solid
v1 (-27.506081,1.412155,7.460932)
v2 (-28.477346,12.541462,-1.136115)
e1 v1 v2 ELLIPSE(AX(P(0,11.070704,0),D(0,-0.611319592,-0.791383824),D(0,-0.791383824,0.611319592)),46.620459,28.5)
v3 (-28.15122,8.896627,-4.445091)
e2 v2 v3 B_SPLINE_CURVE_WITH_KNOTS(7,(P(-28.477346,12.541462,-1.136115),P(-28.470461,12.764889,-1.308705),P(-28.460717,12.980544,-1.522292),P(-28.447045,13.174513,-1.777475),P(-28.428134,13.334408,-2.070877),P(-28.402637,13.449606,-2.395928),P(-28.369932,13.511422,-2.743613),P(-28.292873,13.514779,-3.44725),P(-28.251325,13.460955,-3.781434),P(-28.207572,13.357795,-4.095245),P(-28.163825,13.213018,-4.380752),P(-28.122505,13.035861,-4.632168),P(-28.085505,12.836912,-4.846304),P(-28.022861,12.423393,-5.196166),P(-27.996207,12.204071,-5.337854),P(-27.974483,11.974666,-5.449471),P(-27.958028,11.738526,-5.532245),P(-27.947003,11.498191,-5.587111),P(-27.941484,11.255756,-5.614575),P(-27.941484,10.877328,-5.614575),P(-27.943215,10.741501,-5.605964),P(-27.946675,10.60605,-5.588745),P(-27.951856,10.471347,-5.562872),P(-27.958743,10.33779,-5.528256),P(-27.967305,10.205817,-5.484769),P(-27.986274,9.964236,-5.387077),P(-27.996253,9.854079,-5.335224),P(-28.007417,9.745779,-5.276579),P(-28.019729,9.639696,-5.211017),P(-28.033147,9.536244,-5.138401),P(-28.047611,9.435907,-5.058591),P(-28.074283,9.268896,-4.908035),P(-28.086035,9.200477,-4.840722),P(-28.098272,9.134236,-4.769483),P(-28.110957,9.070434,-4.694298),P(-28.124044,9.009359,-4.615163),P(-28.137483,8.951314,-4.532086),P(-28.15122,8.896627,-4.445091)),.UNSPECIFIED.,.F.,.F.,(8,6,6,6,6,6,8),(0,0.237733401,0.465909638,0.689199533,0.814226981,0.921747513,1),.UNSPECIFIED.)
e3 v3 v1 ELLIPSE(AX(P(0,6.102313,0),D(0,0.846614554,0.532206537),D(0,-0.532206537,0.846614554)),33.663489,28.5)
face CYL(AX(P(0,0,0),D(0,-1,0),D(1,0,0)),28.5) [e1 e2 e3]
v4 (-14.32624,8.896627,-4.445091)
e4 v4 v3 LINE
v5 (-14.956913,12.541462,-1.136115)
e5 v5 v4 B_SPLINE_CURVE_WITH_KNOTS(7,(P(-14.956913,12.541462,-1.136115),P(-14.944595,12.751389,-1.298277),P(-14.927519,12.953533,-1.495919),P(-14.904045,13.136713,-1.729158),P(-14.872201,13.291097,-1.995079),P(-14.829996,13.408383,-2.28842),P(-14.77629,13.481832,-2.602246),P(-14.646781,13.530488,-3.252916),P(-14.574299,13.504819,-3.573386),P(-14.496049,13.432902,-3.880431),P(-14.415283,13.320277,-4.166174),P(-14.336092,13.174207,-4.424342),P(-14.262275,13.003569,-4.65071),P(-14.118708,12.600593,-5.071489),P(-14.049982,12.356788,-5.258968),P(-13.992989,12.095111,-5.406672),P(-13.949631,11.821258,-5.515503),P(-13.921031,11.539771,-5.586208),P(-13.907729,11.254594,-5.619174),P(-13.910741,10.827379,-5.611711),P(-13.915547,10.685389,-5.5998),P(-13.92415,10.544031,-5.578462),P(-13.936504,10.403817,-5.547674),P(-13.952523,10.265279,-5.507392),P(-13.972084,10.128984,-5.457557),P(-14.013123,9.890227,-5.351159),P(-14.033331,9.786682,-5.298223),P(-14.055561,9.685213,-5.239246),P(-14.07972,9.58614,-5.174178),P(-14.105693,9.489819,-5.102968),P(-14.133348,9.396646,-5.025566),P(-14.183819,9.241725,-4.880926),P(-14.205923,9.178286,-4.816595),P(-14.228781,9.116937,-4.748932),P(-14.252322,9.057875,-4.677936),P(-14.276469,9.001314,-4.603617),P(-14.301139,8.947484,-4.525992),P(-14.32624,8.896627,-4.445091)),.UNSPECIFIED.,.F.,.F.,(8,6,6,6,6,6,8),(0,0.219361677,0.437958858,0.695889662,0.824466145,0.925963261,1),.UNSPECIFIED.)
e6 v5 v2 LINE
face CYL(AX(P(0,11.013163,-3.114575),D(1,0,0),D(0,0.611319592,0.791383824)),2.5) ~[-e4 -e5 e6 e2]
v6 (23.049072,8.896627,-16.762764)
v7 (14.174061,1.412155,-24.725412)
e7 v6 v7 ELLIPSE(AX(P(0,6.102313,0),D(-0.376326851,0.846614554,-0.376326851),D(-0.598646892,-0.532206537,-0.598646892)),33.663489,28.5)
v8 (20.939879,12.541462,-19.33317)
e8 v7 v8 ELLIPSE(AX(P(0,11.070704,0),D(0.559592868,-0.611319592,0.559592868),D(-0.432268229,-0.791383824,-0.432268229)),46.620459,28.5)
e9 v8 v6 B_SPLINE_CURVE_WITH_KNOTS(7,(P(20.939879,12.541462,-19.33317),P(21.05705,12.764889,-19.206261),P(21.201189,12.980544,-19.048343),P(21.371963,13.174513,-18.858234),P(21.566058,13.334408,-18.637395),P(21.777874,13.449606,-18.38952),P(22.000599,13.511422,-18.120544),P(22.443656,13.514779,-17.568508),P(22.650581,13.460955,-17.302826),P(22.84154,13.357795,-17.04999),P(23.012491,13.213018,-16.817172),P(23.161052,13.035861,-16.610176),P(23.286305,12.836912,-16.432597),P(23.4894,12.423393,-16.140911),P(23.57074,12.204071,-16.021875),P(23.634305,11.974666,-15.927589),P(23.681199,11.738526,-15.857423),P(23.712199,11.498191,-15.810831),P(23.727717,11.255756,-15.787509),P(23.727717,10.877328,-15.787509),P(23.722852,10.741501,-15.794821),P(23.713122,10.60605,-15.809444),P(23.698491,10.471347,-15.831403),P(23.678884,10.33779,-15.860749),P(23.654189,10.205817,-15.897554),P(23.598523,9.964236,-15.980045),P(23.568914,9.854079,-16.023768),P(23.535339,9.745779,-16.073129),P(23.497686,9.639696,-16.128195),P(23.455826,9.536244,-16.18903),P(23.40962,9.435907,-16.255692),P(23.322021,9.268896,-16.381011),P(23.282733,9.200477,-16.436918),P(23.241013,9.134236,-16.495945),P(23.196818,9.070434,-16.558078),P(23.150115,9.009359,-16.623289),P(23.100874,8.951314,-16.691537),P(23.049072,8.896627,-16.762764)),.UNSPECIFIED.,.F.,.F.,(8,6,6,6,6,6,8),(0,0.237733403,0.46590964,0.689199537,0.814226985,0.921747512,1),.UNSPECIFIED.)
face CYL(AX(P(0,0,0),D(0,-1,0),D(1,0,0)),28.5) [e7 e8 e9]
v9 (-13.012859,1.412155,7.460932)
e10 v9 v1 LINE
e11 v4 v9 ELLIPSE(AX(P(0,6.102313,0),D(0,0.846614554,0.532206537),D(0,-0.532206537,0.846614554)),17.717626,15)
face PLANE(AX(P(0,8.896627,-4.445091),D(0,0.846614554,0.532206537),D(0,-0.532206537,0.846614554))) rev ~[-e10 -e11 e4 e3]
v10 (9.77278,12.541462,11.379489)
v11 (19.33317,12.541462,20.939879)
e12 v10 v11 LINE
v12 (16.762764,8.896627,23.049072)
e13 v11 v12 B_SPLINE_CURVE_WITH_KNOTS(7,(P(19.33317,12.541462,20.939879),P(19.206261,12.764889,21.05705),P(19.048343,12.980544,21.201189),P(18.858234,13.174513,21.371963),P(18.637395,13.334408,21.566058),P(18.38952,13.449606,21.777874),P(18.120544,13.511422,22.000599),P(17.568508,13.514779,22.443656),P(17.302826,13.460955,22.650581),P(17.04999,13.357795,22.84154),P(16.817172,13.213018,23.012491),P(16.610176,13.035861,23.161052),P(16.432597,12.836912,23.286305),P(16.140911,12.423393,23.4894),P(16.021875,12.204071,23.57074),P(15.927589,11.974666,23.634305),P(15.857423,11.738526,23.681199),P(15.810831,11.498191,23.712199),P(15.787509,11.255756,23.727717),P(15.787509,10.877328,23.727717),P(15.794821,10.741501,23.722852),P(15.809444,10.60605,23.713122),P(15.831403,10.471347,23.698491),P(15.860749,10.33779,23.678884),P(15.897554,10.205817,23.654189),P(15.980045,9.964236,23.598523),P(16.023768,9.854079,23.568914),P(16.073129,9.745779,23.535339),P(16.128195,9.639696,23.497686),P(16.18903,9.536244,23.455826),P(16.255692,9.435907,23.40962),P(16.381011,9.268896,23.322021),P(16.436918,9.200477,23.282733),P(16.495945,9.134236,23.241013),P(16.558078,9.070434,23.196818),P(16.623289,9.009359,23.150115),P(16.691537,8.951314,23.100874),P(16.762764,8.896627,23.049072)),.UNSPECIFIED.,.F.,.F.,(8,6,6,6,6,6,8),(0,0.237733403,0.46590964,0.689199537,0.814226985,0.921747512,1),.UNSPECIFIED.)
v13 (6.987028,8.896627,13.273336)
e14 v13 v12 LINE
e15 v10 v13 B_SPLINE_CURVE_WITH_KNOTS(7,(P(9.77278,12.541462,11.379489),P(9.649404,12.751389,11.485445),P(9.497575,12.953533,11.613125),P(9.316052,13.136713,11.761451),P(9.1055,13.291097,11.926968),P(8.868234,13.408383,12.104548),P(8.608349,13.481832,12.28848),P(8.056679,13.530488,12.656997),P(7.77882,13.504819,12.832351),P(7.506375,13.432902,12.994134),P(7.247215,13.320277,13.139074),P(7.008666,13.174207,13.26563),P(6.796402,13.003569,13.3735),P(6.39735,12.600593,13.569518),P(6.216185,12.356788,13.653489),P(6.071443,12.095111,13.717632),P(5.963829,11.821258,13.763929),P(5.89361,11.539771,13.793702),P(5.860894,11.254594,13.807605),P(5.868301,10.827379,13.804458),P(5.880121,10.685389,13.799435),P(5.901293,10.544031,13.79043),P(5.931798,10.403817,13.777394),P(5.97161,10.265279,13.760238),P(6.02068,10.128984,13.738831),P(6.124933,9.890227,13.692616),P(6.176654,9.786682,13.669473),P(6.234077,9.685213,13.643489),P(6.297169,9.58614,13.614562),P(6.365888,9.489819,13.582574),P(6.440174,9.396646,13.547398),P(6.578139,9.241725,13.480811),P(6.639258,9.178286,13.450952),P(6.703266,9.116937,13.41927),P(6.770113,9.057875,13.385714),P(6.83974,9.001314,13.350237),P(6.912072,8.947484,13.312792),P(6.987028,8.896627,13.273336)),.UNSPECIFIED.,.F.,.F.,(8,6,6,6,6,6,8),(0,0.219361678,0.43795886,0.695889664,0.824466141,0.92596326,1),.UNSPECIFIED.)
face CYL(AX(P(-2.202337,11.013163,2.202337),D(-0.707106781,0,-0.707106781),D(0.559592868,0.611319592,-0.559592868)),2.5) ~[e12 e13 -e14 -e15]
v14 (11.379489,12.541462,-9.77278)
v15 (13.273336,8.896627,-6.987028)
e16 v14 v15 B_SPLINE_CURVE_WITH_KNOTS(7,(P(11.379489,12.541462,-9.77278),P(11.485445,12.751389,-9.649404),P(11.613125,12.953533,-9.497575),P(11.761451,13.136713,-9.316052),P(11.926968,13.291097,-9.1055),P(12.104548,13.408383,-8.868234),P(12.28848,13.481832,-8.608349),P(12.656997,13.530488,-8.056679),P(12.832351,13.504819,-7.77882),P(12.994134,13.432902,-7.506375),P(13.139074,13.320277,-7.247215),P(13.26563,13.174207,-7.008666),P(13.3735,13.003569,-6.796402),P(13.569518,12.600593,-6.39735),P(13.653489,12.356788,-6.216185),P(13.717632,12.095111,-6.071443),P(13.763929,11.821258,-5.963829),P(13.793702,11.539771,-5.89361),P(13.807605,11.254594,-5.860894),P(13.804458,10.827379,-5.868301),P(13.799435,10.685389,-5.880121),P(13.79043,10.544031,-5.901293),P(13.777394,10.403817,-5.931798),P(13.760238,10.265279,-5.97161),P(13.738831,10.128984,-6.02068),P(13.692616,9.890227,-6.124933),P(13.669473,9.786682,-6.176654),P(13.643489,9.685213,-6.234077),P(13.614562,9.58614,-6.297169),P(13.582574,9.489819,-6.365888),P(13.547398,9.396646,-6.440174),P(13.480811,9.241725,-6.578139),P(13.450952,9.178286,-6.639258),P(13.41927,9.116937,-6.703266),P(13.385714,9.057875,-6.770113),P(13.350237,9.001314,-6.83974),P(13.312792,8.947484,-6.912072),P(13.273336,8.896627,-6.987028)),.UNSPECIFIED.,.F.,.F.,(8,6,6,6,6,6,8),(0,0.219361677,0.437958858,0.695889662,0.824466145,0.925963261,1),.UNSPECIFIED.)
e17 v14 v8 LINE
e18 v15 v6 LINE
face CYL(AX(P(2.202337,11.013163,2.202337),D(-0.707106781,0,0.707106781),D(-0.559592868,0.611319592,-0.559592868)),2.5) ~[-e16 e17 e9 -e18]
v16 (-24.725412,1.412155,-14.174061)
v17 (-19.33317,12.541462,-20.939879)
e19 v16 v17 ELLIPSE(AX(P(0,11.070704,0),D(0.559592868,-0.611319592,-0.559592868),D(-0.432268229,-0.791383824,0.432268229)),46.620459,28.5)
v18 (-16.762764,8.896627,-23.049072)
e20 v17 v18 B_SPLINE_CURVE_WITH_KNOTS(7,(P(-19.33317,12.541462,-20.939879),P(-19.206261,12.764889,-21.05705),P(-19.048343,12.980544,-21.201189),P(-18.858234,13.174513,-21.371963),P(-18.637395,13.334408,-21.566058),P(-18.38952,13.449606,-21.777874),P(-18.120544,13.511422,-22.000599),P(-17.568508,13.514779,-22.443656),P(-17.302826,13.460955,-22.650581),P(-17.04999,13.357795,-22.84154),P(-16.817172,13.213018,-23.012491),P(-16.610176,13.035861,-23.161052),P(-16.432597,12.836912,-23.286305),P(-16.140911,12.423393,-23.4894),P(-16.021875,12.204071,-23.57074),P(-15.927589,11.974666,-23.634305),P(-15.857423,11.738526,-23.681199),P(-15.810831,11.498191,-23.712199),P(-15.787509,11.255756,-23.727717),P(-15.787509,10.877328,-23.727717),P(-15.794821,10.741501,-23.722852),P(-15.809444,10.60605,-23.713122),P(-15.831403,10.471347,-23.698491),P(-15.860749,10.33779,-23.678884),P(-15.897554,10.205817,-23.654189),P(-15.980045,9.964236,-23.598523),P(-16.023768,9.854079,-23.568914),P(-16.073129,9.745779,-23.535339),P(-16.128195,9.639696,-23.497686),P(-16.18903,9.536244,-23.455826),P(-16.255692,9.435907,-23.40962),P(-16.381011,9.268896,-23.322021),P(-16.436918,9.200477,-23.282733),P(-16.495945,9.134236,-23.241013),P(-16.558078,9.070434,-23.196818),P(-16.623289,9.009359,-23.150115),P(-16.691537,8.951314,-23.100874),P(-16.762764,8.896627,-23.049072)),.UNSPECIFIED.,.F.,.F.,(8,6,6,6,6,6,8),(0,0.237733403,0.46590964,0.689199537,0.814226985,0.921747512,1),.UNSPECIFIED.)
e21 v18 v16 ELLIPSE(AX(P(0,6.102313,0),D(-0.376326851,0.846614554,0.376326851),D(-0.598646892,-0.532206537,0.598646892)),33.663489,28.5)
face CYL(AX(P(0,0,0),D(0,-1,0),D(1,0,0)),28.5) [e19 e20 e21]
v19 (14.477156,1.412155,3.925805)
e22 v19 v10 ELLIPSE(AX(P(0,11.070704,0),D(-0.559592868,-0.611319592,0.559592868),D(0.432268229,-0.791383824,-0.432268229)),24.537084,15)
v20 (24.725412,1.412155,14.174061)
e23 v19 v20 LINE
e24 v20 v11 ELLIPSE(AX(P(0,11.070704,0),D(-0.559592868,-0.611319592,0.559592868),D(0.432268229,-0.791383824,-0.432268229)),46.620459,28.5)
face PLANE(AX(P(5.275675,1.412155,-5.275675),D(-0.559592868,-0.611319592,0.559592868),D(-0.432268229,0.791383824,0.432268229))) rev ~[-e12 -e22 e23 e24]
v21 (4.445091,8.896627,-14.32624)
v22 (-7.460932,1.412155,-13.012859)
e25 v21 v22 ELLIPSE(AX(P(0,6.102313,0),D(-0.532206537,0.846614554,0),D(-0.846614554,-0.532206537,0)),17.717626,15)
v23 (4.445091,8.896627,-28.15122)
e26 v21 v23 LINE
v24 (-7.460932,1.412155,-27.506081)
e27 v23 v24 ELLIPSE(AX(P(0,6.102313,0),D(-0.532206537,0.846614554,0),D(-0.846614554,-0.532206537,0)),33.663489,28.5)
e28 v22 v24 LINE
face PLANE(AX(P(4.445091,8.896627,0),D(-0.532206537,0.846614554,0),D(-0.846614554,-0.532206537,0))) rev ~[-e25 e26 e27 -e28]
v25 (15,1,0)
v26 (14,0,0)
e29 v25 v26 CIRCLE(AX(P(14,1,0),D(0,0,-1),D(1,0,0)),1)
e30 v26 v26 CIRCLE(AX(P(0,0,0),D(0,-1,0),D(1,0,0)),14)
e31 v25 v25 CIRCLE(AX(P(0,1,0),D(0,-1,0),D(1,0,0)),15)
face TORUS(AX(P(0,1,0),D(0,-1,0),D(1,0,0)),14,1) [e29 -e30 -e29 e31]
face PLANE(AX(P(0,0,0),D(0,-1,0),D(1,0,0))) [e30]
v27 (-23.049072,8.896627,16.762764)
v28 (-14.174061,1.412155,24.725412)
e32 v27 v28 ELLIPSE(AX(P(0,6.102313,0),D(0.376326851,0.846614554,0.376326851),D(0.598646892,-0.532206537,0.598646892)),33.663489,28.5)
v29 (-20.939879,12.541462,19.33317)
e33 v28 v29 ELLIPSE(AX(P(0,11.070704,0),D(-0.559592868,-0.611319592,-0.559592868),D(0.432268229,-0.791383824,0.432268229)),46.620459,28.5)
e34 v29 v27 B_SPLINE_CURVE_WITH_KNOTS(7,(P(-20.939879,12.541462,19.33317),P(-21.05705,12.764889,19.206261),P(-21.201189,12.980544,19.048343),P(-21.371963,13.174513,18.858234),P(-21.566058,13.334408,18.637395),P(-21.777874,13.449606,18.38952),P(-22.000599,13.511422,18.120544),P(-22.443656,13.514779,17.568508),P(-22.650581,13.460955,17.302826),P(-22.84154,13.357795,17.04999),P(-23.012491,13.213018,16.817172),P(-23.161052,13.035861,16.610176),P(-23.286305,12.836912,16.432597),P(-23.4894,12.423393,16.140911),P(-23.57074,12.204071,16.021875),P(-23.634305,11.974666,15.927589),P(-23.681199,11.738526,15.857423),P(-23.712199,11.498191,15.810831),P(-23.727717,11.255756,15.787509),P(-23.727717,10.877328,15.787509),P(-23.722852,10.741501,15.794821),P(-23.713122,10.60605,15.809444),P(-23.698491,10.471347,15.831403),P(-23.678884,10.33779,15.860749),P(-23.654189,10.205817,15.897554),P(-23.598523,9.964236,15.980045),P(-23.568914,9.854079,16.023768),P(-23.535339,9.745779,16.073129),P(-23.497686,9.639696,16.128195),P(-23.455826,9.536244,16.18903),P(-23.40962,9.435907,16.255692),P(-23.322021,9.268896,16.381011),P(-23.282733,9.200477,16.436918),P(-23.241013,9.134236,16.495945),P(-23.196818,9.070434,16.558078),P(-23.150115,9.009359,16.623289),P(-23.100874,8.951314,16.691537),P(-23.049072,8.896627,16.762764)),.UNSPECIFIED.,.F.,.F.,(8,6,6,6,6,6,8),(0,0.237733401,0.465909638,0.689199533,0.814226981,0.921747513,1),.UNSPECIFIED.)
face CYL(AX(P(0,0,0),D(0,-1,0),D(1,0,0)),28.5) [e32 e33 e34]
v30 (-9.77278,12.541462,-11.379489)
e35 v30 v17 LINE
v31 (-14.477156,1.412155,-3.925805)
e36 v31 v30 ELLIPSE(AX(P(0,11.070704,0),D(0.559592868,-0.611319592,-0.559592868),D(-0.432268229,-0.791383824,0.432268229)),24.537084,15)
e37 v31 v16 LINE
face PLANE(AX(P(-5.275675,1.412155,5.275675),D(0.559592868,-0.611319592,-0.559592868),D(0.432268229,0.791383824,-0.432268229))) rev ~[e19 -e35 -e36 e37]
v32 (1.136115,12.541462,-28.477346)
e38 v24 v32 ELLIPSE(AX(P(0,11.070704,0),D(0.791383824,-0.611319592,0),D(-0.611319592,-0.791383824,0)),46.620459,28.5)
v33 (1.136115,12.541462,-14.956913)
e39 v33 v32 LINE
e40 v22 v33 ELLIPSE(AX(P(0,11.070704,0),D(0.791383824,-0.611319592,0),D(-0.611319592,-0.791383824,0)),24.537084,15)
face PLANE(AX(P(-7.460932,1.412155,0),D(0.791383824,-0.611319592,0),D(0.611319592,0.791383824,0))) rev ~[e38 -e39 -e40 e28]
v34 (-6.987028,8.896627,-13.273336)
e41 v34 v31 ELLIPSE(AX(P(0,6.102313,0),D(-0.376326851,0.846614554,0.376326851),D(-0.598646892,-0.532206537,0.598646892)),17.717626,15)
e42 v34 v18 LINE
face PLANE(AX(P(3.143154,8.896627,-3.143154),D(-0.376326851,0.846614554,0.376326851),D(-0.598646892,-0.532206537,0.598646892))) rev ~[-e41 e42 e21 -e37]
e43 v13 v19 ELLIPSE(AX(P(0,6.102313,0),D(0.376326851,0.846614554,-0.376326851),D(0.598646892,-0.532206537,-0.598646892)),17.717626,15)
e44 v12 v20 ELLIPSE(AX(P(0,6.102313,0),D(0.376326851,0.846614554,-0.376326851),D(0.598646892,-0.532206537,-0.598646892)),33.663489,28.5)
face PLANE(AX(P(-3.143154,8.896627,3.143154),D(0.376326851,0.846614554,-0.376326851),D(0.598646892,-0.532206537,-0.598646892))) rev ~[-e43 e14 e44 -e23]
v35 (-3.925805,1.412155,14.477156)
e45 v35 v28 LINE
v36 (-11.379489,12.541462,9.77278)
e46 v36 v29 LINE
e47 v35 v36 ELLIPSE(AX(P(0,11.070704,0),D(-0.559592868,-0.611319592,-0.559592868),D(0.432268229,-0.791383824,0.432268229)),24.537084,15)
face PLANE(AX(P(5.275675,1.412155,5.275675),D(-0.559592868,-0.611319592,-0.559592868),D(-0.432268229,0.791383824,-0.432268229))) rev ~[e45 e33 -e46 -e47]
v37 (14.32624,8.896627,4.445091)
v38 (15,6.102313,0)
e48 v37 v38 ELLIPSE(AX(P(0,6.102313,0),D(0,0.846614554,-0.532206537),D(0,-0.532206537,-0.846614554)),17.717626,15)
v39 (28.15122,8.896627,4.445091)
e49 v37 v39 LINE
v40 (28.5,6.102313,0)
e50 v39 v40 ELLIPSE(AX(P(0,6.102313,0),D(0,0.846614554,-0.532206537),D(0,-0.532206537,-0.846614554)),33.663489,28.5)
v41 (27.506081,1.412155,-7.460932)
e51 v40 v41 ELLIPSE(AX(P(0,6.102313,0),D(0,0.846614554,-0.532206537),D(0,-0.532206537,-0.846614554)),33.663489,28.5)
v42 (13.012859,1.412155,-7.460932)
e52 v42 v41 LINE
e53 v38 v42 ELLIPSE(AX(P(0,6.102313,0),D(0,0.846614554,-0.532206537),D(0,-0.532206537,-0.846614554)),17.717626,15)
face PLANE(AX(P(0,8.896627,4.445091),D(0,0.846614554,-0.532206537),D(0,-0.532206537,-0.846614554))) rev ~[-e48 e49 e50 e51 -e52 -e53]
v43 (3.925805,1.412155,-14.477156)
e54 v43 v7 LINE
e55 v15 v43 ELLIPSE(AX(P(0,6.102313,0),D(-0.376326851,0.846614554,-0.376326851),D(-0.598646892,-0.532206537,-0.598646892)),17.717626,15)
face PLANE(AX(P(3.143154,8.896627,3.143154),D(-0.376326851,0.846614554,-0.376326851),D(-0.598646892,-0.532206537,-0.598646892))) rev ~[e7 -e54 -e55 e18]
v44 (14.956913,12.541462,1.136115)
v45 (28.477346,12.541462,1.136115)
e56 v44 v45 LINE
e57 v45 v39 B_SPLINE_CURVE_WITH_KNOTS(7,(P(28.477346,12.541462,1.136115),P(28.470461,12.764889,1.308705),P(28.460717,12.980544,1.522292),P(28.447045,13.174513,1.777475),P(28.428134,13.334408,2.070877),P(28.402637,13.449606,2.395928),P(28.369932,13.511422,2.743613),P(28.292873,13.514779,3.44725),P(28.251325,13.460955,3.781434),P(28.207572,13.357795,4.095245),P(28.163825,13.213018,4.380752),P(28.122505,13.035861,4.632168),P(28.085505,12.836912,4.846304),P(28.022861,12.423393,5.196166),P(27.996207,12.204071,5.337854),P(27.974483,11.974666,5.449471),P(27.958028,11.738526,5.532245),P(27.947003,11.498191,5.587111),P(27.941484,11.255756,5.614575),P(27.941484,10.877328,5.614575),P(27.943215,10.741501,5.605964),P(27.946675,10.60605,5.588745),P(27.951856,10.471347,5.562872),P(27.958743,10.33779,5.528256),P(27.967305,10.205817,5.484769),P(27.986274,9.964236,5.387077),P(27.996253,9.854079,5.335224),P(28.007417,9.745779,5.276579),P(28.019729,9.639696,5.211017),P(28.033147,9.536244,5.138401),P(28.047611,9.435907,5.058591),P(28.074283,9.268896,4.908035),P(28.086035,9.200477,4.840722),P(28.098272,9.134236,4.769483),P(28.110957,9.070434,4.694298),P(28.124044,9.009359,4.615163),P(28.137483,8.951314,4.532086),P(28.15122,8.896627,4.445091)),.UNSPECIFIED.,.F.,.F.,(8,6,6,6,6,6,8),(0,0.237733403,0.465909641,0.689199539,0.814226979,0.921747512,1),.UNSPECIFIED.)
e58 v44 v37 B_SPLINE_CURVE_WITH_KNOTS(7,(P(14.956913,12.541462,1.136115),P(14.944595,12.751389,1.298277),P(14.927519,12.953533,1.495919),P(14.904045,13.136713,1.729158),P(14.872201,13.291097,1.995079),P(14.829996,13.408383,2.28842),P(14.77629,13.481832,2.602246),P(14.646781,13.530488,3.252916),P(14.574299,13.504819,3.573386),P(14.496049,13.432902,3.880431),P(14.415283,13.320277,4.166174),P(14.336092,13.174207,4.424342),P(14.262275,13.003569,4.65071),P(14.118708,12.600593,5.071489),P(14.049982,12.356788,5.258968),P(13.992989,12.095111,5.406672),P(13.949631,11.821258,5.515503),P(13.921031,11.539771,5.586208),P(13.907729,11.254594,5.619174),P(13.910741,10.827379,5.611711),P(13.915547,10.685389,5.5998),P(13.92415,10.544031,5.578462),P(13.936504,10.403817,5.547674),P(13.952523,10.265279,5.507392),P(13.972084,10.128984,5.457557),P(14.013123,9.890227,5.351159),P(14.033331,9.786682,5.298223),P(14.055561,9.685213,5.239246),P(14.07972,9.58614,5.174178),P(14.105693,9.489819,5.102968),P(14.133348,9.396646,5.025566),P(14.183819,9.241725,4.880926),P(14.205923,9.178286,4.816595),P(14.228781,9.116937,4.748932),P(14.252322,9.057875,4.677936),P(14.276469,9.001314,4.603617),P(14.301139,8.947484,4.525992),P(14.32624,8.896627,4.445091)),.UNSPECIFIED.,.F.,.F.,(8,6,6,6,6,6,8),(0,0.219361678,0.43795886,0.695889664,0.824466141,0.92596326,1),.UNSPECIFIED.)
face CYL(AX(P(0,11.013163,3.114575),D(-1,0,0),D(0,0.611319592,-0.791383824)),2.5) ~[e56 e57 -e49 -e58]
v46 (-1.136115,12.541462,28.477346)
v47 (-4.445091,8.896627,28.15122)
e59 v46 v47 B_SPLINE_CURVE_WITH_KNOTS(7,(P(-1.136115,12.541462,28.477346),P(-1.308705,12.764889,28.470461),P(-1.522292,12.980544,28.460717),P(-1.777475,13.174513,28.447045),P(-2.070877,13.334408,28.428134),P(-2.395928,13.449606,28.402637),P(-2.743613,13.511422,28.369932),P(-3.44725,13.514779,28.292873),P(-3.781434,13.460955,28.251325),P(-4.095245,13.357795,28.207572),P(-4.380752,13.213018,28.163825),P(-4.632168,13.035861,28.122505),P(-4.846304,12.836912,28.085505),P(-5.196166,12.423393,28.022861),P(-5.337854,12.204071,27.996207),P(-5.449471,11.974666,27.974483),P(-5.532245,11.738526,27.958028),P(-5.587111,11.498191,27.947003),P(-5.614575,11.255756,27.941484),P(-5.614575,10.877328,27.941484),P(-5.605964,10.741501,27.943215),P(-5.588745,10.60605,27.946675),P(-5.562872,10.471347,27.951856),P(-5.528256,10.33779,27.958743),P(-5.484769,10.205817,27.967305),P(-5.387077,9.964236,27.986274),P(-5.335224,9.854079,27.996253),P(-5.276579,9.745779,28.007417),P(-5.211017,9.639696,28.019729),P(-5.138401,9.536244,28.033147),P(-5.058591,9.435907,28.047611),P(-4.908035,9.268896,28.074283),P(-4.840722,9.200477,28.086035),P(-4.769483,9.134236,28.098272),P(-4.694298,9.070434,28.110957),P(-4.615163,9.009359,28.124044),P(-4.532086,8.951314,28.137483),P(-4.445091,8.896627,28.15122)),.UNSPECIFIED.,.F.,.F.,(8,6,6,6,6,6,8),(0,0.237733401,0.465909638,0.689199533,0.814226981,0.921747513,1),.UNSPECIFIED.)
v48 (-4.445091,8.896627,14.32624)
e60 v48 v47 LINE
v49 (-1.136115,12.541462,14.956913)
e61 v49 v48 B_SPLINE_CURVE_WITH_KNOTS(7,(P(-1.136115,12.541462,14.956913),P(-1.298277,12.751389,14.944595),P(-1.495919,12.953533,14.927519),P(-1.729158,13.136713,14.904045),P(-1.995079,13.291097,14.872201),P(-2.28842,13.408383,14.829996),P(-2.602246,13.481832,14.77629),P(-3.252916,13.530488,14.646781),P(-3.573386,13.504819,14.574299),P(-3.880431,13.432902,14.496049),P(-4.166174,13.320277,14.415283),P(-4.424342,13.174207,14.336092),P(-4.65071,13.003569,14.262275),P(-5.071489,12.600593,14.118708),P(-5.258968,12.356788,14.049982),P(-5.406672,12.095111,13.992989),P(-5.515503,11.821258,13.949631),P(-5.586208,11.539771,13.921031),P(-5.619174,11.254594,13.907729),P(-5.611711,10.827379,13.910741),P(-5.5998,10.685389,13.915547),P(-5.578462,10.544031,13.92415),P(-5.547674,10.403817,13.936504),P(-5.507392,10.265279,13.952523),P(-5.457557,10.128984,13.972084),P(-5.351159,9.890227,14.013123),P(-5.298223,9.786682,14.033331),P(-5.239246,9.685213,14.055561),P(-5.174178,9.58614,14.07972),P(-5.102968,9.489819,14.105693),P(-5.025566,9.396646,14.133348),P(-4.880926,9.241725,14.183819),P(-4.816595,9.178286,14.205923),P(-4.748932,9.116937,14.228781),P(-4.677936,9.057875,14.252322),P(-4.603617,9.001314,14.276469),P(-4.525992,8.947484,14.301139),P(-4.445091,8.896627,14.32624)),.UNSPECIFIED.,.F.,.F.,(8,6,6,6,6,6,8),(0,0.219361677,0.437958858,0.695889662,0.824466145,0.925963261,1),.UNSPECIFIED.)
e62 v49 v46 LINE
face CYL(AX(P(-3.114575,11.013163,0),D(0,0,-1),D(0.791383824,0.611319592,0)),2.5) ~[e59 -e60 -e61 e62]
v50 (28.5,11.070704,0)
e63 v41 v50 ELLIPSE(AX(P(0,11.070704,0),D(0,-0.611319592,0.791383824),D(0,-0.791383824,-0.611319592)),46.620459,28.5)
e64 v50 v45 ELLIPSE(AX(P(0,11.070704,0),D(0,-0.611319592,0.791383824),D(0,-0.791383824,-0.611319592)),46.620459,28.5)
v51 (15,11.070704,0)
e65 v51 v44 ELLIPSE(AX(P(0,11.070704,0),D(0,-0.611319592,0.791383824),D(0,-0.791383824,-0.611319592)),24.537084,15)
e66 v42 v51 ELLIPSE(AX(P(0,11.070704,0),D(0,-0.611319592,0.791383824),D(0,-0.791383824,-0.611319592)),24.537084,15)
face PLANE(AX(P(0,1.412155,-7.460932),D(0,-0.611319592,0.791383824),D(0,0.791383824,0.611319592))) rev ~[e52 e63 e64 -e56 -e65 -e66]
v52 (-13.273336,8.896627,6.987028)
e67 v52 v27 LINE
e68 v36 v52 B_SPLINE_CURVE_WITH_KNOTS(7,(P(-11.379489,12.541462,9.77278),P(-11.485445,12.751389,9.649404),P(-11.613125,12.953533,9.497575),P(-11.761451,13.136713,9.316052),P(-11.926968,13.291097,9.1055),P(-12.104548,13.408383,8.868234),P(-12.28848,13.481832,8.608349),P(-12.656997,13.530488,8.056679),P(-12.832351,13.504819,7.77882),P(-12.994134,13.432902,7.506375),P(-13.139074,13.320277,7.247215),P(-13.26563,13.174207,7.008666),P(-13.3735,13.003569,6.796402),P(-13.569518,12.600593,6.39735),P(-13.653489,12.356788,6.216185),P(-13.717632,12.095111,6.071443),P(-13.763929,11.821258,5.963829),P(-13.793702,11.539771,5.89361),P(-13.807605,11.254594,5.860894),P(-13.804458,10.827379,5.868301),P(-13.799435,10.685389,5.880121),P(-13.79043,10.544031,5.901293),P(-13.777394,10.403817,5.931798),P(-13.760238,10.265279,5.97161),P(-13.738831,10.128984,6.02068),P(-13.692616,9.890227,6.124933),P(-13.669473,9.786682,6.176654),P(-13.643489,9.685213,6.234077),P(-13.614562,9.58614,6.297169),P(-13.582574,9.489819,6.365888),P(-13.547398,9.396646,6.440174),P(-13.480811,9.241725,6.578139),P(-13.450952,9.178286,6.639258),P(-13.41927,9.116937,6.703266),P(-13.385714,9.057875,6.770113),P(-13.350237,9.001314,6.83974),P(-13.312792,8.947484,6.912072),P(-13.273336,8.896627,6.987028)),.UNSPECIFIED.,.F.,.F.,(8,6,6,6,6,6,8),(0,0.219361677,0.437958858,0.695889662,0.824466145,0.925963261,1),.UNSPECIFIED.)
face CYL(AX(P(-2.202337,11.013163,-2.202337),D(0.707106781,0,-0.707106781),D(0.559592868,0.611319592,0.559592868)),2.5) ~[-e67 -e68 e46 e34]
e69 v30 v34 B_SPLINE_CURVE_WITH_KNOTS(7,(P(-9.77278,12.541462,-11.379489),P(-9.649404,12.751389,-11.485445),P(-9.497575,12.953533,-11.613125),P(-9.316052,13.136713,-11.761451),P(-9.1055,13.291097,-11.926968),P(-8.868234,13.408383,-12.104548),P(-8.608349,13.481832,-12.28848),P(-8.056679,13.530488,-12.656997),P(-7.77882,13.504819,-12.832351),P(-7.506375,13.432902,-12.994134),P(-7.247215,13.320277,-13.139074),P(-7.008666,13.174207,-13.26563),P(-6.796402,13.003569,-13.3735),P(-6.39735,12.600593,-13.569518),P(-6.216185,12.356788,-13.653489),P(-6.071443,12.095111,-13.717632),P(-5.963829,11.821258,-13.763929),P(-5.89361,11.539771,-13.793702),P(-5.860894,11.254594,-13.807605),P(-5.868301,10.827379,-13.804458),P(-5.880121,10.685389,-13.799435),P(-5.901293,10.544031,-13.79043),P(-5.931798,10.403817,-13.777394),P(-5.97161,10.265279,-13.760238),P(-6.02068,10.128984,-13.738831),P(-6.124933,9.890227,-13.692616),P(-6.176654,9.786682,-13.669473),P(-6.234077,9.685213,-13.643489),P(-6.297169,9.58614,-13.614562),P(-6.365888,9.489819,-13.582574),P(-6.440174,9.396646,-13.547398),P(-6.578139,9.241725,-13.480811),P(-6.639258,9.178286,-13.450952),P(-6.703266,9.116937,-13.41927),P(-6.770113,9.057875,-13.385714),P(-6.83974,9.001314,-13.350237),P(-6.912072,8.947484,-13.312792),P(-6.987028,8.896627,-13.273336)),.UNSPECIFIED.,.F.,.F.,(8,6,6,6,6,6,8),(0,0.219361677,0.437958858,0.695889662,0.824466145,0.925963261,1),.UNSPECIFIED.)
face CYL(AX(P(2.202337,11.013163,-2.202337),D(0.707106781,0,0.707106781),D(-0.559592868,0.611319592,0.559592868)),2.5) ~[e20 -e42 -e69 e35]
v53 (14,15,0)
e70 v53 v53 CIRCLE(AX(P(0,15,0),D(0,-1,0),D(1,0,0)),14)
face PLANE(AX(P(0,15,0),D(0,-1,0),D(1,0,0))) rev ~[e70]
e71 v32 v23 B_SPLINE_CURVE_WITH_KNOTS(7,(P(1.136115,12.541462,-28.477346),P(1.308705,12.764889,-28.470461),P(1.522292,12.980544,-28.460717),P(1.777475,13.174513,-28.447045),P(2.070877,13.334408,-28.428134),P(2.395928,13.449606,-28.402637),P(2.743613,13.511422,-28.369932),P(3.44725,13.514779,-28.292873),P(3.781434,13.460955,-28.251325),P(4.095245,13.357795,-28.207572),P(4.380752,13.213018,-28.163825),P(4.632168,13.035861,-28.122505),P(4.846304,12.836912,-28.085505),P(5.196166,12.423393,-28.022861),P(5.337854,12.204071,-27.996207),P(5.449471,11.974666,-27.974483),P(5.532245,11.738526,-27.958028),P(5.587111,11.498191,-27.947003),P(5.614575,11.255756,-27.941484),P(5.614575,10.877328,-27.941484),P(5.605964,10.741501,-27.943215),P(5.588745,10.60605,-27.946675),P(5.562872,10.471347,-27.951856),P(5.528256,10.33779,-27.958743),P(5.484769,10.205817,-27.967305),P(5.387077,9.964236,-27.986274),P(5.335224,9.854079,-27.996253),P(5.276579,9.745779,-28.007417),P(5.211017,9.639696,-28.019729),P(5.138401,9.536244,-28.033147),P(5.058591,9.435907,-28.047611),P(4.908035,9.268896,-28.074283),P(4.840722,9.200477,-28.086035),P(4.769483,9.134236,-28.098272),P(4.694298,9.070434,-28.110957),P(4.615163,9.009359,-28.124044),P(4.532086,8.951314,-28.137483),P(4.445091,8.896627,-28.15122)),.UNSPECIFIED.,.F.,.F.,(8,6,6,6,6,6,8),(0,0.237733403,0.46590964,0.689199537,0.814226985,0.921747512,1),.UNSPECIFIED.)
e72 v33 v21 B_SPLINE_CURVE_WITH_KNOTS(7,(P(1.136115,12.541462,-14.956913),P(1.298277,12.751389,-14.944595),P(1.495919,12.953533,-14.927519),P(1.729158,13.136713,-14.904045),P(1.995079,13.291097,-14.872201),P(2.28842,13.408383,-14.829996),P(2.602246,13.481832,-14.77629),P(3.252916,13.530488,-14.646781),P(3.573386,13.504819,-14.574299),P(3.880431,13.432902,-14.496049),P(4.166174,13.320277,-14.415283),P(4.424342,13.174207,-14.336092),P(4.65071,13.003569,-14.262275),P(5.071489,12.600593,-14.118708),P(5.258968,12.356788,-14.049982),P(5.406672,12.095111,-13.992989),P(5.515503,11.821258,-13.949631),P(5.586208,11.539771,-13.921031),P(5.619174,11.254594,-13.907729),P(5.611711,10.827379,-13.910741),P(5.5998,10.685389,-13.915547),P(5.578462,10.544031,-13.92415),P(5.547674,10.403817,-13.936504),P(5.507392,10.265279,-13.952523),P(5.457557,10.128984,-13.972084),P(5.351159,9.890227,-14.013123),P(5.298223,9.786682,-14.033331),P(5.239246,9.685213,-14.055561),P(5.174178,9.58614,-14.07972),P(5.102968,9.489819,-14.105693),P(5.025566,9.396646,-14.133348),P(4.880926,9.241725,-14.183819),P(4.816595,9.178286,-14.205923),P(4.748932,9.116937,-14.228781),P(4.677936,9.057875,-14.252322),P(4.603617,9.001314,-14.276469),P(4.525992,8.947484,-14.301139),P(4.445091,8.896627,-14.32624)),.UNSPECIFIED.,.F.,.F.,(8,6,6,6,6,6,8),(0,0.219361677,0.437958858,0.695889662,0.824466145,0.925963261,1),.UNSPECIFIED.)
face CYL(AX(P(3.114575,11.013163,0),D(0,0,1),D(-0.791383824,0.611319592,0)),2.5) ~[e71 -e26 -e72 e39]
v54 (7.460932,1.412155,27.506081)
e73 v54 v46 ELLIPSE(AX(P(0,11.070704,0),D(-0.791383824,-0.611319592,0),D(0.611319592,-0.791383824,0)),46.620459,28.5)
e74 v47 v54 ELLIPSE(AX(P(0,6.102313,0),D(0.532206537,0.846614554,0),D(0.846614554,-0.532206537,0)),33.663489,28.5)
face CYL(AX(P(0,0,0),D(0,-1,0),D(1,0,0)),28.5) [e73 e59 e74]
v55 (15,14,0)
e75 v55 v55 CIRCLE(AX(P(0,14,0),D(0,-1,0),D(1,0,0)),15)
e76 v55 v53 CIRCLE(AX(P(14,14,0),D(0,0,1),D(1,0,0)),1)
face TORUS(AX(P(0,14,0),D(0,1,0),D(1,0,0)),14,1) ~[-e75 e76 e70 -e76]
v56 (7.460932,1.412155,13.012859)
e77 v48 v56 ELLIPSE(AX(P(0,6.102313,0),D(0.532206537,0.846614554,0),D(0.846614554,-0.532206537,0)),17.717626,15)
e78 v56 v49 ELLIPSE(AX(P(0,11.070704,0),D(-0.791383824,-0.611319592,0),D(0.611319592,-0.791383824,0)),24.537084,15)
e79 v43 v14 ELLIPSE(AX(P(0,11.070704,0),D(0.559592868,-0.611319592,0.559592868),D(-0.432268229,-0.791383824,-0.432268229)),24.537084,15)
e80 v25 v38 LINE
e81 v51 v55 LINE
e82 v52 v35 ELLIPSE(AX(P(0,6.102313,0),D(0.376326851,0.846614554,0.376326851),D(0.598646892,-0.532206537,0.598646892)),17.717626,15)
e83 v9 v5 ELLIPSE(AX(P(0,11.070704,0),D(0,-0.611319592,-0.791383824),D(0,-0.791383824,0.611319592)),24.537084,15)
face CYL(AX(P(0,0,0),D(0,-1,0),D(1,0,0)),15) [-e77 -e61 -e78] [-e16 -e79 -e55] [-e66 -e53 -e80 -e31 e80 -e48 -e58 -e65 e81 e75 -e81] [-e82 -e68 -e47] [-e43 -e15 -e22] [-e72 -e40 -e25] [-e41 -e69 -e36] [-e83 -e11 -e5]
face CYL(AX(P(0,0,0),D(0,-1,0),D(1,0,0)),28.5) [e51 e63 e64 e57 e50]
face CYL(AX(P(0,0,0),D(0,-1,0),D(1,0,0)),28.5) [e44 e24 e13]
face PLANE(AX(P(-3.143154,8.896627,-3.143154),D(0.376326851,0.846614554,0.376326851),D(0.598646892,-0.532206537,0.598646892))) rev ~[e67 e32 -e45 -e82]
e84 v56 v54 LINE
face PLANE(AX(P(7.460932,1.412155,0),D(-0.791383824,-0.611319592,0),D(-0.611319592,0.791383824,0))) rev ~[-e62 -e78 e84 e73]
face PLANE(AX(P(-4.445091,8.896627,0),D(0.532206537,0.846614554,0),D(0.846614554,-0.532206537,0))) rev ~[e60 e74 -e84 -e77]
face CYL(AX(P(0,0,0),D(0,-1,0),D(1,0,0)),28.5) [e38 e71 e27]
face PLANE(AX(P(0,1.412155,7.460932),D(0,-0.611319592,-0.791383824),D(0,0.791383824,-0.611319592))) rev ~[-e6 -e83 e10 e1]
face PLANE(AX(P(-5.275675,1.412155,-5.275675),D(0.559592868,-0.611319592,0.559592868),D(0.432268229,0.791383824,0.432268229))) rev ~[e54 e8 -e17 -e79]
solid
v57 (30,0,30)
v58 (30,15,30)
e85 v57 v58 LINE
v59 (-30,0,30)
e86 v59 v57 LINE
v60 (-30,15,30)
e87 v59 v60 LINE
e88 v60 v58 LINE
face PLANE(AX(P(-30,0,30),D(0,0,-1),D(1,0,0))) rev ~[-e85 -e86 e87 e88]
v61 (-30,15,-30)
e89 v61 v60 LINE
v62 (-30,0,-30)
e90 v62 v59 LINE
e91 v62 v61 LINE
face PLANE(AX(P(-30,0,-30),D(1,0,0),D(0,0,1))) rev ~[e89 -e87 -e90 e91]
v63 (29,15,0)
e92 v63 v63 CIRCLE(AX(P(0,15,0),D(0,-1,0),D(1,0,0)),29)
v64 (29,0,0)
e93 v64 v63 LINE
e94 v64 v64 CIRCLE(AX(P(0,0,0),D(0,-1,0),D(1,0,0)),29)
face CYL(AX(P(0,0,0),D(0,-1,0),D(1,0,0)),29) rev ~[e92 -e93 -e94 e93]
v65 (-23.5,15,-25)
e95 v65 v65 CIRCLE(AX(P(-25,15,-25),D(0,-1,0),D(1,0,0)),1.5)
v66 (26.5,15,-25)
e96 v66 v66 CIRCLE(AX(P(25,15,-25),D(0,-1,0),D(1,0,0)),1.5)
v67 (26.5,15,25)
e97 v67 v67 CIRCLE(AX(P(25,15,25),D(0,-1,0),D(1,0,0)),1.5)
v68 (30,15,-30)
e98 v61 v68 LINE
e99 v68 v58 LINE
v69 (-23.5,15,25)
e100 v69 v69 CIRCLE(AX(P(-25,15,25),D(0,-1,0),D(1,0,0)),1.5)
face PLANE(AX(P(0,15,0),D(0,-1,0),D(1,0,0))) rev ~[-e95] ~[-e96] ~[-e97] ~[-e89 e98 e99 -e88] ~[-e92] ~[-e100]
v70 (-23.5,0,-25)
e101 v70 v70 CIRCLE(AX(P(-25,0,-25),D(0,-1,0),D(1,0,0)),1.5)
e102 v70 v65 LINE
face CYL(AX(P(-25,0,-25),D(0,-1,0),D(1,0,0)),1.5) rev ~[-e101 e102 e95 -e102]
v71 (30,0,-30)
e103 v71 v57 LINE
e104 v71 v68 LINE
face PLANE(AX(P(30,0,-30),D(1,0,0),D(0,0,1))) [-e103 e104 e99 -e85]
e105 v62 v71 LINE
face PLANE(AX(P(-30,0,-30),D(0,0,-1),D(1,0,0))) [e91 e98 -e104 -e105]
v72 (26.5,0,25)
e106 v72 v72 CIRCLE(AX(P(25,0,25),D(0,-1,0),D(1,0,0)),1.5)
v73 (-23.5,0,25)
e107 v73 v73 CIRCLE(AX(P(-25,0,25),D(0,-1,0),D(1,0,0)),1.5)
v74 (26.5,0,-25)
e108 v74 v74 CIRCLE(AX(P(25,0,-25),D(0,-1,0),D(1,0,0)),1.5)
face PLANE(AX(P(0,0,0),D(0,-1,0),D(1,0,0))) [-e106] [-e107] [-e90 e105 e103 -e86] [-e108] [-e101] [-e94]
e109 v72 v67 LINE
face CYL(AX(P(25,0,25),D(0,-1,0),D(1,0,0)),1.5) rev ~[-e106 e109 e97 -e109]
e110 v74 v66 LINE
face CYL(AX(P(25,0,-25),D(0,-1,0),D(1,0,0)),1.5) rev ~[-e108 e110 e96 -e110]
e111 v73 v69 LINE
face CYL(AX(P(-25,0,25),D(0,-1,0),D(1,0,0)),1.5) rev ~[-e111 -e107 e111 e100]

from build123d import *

# Parameters (mm, degrees)
F0_W     = 60
F0_H     = 60
F0_R     = 1.5
F0_R_2   = 29
F1_DEPTH = 15
F3_DEPTH = 30
F4_COUNT = 8
F5_R     = 15
F6_DEPTH = 15
F7_R     = 50
F7_R_2   = 28.5
F8_DEPTH = 15.0010001
F9_R     = 1


with BuildPart() as f1:
    # F0 (on Front) → F1 (new body)
    with BuildSketch(Plane.XZ):
        Rectangle(F0_W, F0_H)
        with Locations((-25, -25)):
            Circle(F0_R, mode=Mode.SUBTRACT)
        with Locations((25, -25)):
            Circle(F0_R, mode=Mode.SUBTRACT)
        with Locations((-25, 25)):
            Circle(F0_R, mode=Mode.SUBTRACT)
        Circle(F0_R_2, mode=Mode.SUBTRACT)
        with Locations((25, 25)):
            Circle(F0_R, mode=Mode.SUBTRACT)
    extrude(amount=-F1_DEPTH)


with BuildPart() as f3:
    # F2 (on Right) → F3 (new body)
    with BuildSketch(Plane.YZ):
        with BuildLine():
            ThreePointArc((12.5414622339, 1.1361150297), (12.6935906366, 4.9655645431), (8.8966268699, 4.4450909307))
            Line((8.8966268699, 4.4450909307), (1.412154641, -7.4609317817))
            Line((1.412154641, -7.4609317817), (12.5414622339, 1.1361150297))
        make_face()
    extrude(amount=F3_DEPTH)


with BuildPart() as f4_1:
    # F4: instance of F3
    add(f3.part.rotate(Axis((0, -8.8478960097, 0), (0, -1, 0)), 1 * 360 / F4_COUNT))


with BuildPart() as f4_2:
    # F4: instance of F3
    add(f3.part.rotate(Axis((0, -8.8478960097, 0), (0, -1, 0)), 2 * 360 / F4_COUNT))


with BuildPart() as f4_3:
    # F4: instance of F3
    add(f3.part.rotate(Axis((0, -8.8478960097, 0), (0, -1, 0)), 3 * 360 / F4_COUNT))


with BuildPart() as f4_4:
    # F4: instance of F3
    add(f3.part.rotate(Axis((0, -8.8478960097, 0), (0, -1, 0)), 4 * 360 / F4_COUNT))


with BuildPart() as f4_5:
    # F4: instance of F3
    add(f3.part.rotate(Axis((0, -8.8478960097, 0), (0, -1, 0)), 5 * 360 / F4_COUNT))


with BuildPart() as f4_6:
    # F4: instance of F3
    add(f3.part.rotate(Axis((0, -8.8478960097, 0), (0, -1, 0)), 6 * 360 / F4_COUNT))


with BuildPart() as f4_7:
    # F4: instance of F3
    add(f3.part.rotate(Axis((0, -8.8478960097, 0), (0, -1, 0)), 7 * 360 / F4_COUNT))


with BuildPart() as f3_1:
    add(f3.part)

    add(f4_1.part)  # F6 merges F4_1

    add(f4_2.part)  # F6 merges F4_2

    add(f4_3.part)  # F6 merges F4_3

    add(f4_4.part)  # F6 merges F4_4

    add(f4_5.part)  # F6 merges F4_5

    add(f4_6.part)  # F6 merges F4_6

    add(f4_7.part)  # F6 merges F4_7
    # F5 (on Front) → F6 (join)
    with BuildSketch(Plane.XZ):
        Circle(F5_R)
    extrude(amount=-F6_DEPTH)

    # F7 (on Front) → F8 (cut, through all)
    with BuildSketch(Plane.XZ):
        Circle(F7_R)
        Circle(F7_R_2, mode=Mode.SUBTRACT)
    extrude(amount=-F8_DEPTH, mode=Mode.SUBTRACT)

    # F9
    f9_edges = [f3_1.edges().sort_by_distance(p)[0] for p in [
        (-15, 0, 0),
        (-15, 15, 0),
    ]]
    fillet(f9_edges, radius=F9_R)


solid = Compound([f1.part, f3_1.part])
